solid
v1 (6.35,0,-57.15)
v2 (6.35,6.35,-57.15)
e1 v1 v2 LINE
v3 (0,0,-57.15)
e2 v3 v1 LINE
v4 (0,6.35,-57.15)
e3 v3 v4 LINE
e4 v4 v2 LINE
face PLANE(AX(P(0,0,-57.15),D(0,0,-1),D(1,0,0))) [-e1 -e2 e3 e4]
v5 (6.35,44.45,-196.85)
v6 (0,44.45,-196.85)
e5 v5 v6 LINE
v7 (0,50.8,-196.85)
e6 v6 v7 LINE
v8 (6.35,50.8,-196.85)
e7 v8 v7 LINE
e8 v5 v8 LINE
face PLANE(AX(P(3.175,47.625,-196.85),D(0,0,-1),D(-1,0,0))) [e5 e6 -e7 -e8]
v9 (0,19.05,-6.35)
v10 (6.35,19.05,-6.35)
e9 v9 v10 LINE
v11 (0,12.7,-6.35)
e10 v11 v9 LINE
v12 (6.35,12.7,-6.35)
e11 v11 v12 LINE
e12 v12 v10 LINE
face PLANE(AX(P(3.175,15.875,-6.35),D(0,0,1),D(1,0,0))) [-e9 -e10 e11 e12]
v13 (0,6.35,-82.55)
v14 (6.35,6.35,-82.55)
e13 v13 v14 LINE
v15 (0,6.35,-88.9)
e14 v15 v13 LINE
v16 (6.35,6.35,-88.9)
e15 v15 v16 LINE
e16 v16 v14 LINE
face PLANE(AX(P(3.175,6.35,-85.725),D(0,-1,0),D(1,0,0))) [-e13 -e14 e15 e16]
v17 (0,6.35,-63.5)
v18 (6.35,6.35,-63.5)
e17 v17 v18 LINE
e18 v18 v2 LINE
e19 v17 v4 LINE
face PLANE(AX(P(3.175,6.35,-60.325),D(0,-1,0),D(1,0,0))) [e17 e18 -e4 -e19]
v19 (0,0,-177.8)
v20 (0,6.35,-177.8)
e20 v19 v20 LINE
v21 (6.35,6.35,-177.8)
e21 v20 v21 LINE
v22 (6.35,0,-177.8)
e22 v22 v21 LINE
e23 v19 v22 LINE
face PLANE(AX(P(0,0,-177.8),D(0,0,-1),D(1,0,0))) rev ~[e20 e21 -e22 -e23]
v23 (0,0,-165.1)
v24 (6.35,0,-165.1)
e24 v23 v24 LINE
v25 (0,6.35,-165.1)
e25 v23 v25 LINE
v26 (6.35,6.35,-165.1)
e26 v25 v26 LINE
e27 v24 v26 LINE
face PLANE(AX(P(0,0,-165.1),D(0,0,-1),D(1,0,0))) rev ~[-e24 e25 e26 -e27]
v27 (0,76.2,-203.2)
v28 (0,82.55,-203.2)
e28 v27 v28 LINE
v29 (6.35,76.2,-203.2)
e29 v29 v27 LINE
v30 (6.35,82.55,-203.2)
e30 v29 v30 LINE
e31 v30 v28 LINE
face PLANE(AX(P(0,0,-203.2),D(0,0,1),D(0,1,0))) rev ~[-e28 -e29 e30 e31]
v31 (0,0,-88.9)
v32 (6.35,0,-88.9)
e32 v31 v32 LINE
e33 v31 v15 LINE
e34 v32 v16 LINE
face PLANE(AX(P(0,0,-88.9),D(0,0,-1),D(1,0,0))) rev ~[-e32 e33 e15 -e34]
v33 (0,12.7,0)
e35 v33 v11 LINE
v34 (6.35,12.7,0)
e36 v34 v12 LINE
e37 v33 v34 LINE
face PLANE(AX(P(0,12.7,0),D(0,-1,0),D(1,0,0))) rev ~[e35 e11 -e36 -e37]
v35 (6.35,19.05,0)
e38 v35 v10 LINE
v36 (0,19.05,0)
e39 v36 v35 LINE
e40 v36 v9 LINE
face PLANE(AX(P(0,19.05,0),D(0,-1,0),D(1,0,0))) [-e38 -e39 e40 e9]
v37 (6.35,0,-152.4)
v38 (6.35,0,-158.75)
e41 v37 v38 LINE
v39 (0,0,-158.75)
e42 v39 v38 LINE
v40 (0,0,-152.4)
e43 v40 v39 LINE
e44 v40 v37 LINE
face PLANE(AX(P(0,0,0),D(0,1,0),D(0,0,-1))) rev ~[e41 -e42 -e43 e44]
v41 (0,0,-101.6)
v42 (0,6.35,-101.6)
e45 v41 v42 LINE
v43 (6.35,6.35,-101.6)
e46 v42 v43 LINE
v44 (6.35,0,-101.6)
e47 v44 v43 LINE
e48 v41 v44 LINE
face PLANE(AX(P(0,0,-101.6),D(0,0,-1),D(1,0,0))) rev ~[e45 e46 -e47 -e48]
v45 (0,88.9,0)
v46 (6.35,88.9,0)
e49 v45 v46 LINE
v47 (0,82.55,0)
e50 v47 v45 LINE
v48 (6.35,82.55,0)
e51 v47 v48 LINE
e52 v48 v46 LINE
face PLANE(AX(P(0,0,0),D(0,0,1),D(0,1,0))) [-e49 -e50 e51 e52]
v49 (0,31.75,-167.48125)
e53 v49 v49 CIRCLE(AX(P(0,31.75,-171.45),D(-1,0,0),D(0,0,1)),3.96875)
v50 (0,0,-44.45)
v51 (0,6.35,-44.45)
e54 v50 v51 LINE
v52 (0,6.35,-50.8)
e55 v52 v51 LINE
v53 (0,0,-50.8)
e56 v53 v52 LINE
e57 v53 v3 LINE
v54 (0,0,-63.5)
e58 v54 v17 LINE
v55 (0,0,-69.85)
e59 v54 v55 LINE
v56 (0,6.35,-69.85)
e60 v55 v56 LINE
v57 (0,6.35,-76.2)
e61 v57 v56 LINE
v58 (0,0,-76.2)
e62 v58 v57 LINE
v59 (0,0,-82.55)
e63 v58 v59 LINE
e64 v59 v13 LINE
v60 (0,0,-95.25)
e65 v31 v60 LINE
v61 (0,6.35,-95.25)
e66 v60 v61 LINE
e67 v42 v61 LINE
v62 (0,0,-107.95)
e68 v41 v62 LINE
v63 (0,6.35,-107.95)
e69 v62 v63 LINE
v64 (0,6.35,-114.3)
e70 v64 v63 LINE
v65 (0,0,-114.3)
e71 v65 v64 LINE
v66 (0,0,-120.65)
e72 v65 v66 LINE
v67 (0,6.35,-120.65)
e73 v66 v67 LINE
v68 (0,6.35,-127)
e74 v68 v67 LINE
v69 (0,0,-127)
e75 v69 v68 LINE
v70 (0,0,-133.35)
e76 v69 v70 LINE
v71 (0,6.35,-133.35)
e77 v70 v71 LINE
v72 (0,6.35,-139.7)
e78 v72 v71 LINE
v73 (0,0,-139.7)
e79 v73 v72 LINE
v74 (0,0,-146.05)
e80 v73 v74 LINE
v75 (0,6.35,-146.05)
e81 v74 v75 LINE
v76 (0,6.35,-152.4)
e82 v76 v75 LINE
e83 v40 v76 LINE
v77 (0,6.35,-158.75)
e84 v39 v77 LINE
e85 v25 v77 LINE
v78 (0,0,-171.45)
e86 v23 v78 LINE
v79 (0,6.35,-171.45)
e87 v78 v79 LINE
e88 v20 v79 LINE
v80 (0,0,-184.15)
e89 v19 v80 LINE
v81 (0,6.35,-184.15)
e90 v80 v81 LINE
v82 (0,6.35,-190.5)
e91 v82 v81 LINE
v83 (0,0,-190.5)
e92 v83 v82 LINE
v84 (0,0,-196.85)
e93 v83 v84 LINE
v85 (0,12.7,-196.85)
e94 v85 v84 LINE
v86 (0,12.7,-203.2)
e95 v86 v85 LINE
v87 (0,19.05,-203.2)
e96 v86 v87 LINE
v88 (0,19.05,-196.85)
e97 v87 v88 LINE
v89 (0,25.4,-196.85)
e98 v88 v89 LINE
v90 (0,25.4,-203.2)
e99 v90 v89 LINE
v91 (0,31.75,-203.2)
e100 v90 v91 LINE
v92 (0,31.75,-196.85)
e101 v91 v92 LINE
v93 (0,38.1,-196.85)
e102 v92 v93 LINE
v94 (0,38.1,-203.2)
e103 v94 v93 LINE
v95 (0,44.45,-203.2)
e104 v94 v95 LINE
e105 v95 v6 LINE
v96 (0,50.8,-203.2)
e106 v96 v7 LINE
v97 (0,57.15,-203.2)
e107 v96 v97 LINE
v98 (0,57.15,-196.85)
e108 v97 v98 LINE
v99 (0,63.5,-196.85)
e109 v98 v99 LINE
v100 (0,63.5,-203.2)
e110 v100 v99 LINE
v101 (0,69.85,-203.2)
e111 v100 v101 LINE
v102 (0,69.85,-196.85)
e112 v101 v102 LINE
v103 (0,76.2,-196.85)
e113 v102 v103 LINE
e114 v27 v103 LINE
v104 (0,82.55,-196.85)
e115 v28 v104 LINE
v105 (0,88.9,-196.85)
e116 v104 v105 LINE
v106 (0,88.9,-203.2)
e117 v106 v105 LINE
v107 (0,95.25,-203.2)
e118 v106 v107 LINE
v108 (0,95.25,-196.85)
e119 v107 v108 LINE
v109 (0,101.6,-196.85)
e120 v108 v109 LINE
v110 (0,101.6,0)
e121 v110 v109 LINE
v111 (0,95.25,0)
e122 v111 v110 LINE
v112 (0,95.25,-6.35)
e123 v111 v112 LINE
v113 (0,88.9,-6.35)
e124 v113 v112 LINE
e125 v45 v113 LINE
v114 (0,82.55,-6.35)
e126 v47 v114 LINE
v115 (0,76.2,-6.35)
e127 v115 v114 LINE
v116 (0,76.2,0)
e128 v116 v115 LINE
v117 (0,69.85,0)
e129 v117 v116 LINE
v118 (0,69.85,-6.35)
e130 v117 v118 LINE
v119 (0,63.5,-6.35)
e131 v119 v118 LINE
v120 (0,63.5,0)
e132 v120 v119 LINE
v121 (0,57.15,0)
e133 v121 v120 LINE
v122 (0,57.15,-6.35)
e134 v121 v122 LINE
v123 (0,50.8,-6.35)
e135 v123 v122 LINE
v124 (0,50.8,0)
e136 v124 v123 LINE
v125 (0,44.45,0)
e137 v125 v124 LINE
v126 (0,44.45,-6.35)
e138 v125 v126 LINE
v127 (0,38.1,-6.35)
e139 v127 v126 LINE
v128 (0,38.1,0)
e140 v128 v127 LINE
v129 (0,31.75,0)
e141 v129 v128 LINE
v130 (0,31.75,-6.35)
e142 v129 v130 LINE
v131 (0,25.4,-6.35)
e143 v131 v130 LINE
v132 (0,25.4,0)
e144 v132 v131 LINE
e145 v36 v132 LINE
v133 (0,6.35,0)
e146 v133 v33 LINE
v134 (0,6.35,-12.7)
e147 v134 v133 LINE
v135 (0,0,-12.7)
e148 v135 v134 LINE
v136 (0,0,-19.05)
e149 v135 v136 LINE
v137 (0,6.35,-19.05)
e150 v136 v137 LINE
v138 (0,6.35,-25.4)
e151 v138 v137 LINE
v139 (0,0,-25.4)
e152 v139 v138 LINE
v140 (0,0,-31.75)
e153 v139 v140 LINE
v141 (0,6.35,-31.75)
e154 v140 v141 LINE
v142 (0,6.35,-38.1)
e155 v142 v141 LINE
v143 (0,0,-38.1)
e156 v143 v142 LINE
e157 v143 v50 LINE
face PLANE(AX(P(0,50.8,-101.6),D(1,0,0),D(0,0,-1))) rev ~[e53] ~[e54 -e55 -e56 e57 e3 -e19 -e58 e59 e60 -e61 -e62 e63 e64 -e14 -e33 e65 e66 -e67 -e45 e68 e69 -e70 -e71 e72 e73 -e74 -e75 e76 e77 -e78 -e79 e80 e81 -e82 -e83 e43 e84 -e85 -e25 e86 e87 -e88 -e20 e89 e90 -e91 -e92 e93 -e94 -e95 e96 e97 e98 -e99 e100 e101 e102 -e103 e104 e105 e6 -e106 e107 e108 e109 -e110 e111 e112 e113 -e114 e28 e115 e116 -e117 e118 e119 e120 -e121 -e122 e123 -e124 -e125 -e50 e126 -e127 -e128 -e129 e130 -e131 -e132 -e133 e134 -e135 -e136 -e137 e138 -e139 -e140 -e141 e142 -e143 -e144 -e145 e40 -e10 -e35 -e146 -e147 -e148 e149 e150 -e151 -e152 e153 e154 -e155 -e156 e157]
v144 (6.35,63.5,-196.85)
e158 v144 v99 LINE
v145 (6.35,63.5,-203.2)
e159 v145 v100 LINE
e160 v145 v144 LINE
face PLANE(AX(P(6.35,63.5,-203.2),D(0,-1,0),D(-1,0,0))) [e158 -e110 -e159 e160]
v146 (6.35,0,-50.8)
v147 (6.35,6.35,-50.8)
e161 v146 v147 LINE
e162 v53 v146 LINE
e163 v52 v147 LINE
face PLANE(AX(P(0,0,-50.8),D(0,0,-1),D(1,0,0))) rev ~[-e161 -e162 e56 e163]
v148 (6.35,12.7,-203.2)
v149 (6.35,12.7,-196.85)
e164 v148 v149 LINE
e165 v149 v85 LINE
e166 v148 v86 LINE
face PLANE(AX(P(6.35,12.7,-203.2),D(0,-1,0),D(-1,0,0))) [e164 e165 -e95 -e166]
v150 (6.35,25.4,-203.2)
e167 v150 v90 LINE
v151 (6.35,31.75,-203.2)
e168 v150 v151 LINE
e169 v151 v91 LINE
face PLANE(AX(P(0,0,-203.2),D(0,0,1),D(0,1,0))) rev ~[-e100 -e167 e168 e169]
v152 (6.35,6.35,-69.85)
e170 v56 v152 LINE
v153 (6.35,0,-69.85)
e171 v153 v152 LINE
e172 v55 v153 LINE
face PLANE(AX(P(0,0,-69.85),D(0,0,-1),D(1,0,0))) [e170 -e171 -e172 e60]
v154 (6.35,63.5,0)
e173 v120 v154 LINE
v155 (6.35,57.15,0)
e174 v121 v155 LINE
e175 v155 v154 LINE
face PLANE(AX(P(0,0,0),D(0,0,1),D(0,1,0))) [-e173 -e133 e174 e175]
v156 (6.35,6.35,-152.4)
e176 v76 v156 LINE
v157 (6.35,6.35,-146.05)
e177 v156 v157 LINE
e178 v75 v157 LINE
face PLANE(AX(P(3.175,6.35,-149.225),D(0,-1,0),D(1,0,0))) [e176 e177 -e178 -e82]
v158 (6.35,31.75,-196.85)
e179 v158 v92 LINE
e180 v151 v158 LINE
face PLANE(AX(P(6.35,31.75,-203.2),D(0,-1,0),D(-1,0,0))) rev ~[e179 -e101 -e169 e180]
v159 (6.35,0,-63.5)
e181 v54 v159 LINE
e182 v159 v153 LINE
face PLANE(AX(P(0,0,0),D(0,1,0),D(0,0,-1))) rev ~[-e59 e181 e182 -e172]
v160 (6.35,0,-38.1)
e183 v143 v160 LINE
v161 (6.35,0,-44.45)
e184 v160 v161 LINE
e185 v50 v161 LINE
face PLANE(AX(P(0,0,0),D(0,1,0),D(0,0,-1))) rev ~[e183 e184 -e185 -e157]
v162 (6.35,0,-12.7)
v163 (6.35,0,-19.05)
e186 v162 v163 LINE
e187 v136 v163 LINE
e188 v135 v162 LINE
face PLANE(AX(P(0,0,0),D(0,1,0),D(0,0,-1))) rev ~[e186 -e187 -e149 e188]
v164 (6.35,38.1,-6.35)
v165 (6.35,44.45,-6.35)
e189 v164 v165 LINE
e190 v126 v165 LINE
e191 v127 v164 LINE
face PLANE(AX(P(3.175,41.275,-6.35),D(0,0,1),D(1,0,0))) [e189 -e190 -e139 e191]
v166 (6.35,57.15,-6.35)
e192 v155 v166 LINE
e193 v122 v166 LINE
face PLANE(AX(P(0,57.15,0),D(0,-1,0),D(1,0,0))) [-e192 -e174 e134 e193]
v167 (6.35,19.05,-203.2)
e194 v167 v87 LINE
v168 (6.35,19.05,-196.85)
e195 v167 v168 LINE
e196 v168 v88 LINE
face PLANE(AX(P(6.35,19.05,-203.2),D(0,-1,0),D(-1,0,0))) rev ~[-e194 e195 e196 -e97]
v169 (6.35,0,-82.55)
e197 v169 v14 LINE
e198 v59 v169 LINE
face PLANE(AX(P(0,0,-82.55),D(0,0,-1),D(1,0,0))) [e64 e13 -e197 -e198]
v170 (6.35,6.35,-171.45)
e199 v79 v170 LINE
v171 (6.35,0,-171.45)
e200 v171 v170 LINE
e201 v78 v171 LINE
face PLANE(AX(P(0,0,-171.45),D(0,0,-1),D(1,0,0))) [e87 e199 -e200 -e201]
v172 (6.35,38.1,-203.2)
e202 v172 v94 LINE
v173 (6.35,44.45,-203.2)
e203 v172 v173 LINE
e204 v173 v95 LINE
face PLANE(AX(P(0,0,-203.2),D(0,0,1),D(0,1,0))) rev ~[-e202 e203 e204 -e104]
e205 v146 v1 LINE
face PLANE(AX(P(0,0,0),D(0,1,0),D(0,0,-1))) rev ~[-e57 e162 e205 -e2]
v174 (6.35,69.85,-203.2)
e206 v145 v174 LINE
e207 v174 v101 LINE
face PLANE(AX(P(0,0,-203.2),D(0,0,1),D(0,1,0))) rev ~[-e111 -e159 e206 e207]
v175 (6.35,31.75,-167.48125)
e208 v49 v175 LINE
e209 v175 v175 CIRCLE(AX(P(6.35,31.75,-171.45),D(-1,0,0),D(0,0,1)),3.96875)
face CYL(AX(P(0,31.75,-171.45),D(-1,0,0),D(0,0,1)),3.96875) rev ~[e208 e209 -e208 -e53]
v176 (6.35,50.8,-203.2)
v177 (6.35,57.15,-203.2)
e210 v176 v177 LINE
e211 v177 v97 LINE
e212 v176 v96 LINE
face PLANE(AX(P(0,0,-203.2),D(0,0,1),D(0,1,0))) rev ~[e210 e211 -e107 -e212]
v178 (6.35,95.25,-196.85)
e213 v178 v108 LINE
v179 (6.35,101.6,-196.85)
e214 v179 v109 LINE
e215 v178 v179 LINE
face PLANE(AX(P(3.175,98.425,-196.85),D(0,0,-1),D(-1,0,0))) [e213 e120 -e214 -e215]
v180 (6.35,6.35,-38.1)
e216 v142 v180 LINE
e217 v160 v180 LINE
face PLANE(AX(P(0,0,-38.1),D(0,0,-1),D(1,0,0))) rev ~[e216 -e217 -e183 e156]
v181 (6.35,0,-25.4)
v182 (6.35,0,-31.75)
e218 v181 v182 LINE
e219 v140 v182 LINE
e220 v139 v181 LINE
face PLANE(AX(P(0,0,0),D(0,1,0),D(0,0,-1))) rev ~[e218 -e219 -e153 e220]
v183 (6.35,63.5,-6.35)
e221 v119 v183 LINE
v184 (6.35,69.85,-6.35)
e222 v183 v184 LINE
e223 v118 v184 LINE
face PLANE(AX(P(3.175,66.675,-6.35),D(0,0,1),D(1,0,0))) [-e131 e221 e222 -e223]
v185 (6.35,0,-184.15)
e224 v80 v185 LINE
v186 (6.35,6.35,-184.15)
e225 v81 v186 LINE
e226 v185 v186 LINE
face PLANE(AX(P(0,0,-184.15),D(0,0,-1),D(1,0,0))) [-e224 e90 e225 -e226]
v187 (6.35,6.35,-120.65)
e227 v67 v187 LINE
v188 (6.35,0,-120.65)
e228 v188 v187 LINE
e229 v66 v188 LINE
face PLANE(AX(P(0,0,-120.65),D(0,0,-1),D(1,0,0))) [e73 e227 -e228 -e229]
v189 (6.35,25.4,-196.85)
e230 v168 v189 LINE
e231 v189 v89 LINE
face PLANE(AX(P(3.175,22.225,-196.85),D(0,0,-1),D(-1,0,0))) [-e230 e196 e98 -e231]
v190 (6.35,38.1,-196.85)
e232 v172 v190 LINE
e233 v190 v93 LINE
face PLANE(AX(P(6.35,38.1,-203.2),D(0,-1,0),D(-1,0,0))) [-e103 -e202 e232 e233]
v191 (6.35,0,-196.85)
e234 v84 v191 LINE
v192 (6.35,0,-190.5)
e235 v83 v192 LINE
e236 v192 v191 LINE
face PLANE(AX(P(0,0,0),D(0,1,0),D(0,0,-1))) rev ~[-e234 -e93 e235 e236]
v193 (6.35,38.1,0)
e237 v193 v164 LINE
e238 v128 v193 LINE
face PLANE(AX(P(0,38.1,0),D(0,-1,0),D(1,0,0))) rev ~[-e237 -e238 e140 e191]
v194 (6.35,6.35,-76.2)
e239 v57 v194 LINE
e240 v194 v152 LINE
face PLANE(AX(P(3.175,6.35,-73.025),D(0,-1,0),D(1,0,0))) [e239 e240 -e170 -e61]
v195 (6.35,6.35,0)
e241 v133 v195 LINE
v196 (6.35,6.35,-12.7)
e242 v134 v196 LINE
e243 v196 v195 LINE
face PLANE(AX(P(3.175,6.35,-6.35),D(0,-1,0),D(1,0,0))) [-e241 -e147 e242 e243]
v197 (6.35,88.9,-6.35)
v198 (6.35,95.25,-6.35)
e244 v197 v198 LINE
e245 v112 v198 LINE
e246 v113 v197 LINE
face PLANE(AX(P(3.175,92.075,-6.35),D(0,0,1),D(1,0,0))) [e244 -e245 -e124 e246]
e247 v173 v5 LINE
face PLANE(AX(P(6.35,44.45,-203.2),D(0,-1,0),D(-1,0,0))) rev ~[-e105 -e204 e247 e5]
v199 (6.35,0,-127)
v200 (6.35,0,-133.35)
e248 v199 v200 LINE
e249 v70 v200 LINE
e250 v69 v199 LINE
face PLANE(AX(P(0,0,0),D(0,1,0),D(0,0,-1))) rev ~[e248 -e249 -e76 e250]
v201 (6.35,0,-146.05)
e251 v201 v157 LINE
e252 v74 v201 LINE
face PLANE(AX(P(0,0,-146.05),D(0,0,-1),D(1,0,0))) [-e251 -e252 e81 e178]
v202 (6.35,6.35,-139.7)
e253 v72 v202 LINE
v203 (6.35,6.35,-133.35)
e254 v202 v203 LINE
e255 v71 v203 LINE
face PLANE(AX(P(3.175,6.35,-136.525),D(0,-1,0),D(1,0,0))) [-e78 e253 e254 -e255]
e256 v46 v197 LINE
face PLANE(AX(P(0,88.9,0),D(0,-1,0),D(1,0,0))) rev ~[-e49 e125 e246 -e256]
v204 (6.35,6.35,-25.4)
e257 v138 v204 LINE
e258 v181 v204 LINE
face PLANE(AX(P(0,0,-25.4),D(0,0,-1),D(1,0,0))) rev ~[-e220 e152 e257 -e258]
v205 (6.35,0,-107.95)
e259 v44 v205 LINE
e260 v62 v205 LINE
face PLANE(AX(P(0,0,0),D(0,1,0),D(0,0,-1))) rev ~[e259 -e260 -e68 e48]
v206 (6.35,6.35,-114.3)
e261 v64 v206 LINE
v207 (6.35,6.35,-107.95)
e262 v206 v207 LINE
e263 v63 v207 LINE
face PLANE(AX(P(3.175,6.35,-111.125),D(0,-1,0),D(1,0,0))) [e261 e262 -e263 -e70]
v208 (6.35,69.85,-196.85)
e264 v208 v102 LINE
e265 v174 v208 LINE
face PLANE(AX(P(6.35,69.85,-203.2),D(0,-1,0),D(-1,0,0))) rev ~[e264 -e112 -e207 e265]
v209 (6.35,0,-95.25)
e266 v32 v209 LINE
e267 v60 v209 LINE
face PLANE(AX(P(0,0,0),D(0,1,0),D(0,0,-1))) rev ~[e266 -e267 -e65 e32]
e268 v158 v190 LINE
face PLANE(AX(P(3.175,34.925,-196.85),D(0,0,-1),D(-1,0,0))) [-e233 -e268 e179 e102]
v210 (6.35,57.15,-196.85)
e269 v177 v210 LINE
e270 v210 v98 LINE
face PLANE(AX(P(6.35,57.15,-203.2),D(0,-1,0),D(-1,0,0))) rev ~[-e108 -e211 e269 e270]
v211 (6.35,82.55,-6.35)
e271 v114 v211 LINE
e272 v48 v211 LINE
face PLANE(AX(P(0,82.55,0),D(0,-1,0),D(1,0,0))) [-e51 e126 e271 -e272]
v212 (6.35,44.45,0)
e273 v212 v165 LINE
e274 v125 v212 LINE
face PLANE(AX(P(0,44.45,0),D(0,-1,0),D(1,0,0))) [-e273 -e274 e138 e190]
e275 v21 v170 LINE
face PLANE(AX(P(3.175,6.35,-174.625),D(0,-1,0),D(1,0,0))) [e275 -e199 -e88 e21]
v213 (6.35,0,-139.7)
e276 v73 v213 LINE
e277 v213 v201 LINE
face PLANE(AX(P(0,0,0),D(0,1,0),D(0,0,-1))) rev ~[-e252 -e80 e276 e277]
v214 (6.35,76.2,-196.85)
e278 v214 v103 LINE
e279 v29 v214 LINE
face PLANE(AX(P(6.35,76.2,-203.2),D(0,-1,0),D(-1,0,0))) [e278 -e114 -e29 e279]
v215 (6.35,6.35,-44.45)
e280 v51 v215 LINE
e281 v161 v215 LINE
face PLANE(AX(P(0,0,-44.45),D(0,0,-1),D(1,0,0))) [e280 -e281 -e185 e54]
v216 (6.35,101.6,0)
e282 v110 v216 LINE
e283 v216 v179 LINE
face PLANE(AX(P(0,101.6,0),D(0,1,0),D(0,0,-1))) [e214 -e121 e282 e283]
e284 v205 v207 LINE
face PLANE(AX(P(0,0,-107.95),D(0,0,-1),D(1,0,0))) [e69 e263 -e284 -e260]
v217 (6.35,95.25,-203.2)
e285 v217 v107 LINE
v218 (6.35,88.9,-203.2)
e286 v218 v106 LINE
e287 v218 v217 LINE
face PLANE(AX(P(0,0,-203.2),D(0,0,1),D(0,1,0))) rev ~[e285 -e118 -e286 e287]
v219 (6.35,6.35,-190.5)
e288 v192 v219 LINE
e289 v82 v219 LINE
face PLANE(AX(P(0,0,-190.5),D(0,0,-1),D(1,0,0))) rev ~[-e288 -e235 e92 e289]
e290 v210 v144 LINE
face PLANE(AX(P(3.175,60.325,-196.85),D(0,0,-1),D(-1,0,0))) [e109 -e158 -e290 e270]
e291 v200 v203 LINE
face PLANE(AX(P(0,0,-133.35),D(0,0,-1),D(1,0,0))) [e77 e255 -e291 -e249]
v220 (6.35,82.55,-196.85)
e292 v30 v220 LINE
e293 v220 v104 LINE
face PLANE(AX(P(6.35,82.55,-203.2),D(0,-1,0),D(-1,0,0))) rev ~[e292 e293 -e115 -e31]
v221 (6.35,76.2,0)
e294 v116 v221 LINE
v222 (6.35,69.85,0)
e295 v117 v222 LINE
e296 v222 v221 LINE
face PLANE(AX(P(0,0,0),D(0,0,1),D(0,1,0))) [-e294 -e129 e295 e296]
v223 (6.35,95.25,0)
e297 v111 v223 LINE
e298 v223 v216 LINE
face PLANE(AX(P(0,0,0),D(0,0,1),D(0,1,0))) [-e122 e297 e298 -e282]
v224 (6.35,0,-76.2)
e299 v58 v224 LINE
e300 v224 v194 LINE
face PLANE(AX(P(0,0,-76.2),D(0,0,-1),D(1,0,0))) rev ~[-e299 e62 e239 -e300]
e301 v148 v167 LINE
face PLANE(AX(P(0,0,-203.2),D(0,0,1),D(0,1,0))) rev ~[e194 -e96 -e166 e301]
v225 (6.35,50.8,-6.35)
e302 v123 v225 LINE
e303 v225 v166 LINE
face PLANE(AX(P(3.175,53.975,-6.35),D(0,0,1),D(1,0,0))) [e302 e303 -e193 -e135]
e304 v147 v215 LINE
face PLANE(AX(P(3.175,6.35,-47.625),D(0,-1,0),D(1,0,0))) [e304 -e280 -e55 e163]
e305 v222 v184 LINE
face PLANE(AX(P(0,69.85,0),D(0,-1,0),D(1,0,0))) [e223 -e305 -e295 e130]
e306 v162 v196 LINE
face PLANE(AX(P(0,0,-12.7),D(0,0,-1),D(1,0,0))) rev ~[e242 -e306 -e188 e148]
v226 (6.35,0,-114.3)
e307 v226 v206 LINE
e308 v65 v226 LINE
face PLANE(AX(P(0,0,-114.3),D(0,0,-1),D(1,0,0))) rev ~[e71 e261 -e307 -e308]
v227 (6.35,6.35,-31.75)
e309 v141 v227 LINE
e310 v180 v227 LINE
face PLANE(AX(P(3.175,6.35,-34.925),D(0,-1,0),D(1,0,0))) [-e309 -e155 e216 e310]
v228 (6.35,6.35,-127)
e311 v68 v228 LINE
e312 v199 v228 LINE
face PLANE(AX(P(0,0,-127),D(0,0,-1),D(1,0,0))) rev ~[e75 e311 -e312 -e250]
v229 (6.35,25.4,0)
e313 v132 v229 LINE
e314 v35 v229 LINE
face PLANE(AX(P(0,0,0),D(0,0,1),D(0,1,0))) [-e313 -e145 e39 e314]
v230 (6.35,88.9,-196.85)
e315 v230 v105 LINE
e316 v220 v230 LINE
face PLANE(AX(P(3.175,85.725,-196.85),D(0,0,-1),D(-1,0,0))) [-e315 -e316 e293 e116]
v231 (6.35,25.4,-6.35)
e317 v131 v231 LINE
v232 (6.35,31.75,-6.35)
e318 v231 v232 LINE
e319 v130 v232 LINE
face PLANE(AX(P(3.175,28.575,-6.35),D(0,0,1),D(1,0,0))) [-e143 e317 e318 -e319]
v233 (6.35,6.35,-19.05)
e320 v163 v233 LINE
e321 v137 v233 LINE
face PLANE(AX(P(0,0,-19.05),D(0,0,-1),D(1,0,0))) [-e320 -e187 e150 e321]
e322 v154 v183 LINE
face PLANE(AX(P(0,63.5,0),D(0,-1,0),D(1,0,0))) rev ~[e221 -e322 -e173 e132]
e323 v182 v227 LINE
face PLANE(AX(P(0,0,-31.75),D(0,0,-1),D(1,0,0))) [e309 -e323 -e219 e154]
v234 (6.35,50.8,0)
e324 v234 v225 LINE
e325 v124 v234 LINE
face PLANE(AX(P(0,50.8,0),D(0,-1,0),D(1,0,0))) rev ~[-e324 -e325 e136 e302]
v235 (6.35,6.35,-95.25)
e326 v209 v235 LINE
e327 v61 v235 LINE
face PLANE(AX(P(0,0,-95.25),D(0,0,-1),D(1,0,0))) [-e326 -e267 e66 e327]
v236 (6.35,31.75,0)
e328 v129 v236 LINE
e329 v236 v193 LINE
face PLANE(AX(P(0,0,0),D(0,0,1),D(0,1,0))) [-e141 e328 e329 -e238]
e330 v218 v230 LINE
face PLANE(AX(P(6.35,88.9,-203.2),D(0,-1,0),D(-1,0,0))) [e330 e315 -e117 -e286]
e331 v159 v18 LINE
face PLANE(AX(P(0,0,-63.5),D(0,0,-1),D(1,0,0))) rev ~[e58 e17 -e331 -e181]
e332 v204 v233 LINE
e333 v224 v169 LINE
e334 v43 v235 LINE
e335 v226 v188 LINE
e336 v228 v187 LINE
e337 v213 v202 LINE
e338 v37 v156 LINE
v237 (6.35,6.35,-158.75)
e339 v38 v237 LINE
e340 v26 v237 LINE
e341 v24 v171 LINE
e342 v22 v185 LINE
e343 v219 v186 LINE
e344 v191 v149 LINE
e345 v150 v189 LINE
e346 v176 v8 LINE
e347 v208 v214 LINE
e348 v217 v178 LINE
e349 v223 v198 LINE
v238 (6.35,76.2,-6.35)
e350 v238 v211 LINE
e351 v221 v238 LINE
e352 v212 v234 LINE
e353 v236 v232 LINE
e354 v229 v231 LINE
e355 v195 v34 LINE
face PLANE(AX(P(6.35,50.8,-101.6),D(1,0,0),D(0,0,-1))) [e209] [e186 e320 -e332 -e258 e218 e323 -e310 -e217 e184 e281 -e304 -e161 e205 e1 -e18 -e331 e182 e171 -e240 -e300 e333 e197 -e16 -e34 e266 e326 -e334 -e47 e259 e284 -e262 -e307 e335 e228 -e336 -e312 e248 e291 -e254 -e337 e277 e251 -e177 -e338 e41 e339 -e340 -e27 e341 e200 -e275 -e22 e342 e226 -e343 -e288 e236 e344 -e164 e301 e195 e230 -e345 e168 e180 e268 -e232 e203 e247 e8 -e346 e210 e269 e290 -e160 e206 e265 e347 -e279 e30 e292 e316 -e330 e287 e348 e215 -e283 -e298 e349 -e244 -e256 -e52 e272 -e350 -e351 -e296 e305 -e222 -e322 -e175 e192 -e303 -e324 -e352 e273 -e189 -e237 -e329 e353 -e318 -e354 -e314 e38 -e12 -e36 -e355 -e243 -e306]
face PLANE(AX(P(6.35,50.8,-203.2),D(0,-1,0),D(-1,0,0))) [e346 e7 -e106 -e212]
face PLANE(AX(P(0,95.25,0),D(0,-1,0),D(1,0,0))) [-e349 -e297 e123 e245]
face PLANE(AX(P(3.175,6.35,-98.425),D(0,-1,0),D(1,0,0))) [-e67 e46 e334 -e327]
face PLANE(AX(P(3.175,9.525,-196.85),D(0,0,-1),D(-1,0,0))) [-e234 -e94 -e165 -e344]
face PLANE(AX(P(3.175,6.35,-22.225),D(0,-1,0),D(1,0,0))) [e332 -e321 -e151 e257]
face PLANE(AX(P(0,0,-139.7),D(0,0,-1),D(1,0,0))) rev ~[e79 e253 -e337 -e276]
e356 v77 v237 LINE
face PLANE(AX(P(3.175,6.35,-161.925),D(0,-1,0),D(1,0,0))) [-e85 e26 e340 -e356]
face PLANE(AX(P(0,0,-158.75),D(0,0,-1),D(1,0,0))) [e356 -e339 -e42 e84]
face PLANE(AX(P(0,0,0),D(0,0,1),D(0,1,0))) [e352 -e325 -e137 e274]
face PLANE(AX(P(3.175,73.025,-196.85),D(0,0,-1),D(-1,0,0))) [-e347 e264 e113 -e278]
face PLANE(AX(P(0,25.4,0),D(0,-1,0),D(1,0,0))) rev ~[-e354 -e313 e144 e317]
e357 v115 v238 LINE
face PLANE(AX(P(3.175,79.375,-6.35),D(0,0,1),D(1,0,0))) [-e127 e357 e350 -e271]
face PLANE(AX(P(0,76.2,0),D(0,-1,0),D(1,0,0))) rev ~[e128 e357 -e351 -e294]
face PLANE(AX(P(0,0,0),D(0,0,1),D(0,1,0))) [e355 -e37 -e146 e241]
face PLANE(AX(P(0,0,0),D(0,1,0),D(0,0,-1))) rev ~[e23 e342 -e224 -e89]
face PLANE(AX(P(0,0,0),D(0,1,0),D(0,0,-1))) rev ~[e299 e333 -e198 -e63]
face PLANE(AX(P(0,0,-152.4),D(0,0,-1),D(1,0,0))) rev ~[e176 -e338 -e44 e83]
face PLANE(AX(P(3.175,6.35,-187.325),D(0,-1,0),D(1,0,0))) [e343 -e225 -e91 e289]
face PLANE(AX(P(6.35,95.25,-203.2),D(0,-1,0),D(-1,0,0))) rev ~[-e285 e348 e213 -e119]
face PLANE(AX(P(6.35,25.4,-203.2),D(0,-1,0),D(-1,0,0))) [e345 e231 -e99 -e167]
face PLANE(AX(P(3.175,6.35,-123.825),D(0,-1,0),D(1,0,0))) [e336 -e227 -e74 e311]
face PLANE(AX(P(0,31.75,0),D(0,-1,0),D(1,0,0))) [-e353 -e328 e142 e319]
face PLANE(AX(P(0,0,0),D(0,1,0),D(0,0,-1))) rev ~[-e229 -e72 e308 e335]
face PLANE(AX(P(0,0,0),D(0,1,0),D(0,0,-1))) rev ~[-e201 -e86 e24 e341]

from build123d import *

# Parameters (mm, degrees)
SKETCH1_W           = 203.2
SKETCH1_H           = 101.6
BOSS_EXTRUDE1_DEPTH = 6.35
SKETCH3_W           = 6.35
SKETCH3_H           = 12.7
CUT_EXTRUDE2_DEPTH  = 6.35
SKETCH4_W           = 6.35
SKETCH4_H           = 6.35
CUT_EXTRUDE3_DEPTH  = 6.35
LPATTERN1_COUNT     = 15
LPATTERN1_PITCH     = 12.7
SKETCH5_W           = 6.35
SKETCH5_H           = 6.35
CUT_EXTRUDE4_DEPTH  = 6.35
LPATTERN2_COUNT     = 7
LPATTERN2_PITCH     = 12.7
SKETCH6_W           = 6.35
SKETCH6_H           = 6.35
CUT_EXTRUDE5_DEPTH  = 6.35
SKETCH8_W           = 6.35
SKETCH8_H           = 6.35
CUT_EXTRUDE6_DEPTH  = 6.35
LPATTERN3_COUNT     = 7
LPATTERN3_PITCH     = 12.7
SKETCH9_R           = 3.96875
CUT_EXTRUDE7_DEPTH  = 6.35


with BuildPart() as part:
    # Sketch1 → Boss-Extrude1 (new body)
    with BuildSketch(Plane(origin=(0, 0, 0), x_dir=(0, 0, -1), z_dir=(1, 0, 0))):
        with Locations((101.6, 50.8)):
            Rectangle(SKETCH1_W, SKETCH1_H)
    extrude(amount=BOSS_EXTRUDE1_DEPTH)

    # Sketch3 → Cut-Extrude2 (cut)
    with BuildSketch(Plane.XZ):
        with Locations((3.175, -6.35)):
            Rectangle(SKETCH3_W, SKETCH3_H)
    extrude(amount=-CUT_EXTRUDE2_DEPTH, mode=Mode.SUBTRACT)

    # Sketch4 → Cut-Extrude3 (cut)
    with BuildSketch(Plane.XZ):
        with Locations((3.175, -22.225)):
            Rectangle(SKETCH4_W, SKETCH4_H)
    cut_extrude3 = extrude(amount=-CUT_EXTRUDE3_DEPTH, mode=Mode.SUBTRACT)

    # LPattern1: Cut-Extrude3 ×15
    with Locations(*[(0, 0, -i * LPATTERN1_PITCH) for i in range(1, LPATTERN1_COUNT)]):
        add(cut_extrude3, mode=Mode.SUBTRACT)

    # Sketch5 → Cut-Extrude4 (cut)
    with BuildSketch(Plane.XY):
        with Locations((3.175, 15.875)):
            Rectangle(SKETCH5_W, SKETCH5_H)
    cut_extrude4 = extrude(amount=-CUT_EXTRUDE4_DEPTH, mode=Mode.SUBTRACT)

    # LPattern2: Cut-Extrude4 ×7
    with Locations(*[(0, i * LPATTERN2_PITCH, 0) for i in range(1, LPATTERN2_COUNT)]):
        add(cut_extrude4, mode=Mode.SUBTRACT)

    # Sketch6 → Cut-Extrude5 (cut)
    with BuildSketch(Plane(origin=(0, 0, -203.2), x_dir=(-1, 0, 0), z_dir=(0, 0, -1))):
        with Locations((-3.175, 9.525)):
            Rectangle(SKETCH6_W, SKETCH6_H)
    extrude(amount=-CUT_EXTRUDE5_DEPTH, mode=Mode.SUBTRACT)

    # Sketch8 → Cut-Extrude6 (cut)
    with BuildSketch(Plane(origin=(0, 0, -203.2), x_dir=(-1, 0, 0), z_dir=(0, 0, -1))):
        with Locations((-3.175, 22.225)):
            Rectangle(SKETCH8_W, SKETCH8_H)
    cut_extrude6 = extrude(amount=-CUT_EXTRUDE6_DEPTH, mode=Mode.SUBTRACT)

    # LPattern3: Cut-Extrude6 ×7
    with Locations(*[(0, i * LPATTERN3_PITCH, 0) for i in range(1, LPATTERN3_COUNT)]):
        add(cut_extrude6, mode=Mode.SUBTRACT)

    # Sketch9 → Cut-Extrude7 (cut)
    with BuildSketch(Plane.ZY):
        with Locations((-171.45, 31.75)):
            Circle(SKETCH9_R)
    extrude(amount=-CUT_EXTRUDE7_DEPTH, mode=Mode.SUBTRACT)


solid = part.part
